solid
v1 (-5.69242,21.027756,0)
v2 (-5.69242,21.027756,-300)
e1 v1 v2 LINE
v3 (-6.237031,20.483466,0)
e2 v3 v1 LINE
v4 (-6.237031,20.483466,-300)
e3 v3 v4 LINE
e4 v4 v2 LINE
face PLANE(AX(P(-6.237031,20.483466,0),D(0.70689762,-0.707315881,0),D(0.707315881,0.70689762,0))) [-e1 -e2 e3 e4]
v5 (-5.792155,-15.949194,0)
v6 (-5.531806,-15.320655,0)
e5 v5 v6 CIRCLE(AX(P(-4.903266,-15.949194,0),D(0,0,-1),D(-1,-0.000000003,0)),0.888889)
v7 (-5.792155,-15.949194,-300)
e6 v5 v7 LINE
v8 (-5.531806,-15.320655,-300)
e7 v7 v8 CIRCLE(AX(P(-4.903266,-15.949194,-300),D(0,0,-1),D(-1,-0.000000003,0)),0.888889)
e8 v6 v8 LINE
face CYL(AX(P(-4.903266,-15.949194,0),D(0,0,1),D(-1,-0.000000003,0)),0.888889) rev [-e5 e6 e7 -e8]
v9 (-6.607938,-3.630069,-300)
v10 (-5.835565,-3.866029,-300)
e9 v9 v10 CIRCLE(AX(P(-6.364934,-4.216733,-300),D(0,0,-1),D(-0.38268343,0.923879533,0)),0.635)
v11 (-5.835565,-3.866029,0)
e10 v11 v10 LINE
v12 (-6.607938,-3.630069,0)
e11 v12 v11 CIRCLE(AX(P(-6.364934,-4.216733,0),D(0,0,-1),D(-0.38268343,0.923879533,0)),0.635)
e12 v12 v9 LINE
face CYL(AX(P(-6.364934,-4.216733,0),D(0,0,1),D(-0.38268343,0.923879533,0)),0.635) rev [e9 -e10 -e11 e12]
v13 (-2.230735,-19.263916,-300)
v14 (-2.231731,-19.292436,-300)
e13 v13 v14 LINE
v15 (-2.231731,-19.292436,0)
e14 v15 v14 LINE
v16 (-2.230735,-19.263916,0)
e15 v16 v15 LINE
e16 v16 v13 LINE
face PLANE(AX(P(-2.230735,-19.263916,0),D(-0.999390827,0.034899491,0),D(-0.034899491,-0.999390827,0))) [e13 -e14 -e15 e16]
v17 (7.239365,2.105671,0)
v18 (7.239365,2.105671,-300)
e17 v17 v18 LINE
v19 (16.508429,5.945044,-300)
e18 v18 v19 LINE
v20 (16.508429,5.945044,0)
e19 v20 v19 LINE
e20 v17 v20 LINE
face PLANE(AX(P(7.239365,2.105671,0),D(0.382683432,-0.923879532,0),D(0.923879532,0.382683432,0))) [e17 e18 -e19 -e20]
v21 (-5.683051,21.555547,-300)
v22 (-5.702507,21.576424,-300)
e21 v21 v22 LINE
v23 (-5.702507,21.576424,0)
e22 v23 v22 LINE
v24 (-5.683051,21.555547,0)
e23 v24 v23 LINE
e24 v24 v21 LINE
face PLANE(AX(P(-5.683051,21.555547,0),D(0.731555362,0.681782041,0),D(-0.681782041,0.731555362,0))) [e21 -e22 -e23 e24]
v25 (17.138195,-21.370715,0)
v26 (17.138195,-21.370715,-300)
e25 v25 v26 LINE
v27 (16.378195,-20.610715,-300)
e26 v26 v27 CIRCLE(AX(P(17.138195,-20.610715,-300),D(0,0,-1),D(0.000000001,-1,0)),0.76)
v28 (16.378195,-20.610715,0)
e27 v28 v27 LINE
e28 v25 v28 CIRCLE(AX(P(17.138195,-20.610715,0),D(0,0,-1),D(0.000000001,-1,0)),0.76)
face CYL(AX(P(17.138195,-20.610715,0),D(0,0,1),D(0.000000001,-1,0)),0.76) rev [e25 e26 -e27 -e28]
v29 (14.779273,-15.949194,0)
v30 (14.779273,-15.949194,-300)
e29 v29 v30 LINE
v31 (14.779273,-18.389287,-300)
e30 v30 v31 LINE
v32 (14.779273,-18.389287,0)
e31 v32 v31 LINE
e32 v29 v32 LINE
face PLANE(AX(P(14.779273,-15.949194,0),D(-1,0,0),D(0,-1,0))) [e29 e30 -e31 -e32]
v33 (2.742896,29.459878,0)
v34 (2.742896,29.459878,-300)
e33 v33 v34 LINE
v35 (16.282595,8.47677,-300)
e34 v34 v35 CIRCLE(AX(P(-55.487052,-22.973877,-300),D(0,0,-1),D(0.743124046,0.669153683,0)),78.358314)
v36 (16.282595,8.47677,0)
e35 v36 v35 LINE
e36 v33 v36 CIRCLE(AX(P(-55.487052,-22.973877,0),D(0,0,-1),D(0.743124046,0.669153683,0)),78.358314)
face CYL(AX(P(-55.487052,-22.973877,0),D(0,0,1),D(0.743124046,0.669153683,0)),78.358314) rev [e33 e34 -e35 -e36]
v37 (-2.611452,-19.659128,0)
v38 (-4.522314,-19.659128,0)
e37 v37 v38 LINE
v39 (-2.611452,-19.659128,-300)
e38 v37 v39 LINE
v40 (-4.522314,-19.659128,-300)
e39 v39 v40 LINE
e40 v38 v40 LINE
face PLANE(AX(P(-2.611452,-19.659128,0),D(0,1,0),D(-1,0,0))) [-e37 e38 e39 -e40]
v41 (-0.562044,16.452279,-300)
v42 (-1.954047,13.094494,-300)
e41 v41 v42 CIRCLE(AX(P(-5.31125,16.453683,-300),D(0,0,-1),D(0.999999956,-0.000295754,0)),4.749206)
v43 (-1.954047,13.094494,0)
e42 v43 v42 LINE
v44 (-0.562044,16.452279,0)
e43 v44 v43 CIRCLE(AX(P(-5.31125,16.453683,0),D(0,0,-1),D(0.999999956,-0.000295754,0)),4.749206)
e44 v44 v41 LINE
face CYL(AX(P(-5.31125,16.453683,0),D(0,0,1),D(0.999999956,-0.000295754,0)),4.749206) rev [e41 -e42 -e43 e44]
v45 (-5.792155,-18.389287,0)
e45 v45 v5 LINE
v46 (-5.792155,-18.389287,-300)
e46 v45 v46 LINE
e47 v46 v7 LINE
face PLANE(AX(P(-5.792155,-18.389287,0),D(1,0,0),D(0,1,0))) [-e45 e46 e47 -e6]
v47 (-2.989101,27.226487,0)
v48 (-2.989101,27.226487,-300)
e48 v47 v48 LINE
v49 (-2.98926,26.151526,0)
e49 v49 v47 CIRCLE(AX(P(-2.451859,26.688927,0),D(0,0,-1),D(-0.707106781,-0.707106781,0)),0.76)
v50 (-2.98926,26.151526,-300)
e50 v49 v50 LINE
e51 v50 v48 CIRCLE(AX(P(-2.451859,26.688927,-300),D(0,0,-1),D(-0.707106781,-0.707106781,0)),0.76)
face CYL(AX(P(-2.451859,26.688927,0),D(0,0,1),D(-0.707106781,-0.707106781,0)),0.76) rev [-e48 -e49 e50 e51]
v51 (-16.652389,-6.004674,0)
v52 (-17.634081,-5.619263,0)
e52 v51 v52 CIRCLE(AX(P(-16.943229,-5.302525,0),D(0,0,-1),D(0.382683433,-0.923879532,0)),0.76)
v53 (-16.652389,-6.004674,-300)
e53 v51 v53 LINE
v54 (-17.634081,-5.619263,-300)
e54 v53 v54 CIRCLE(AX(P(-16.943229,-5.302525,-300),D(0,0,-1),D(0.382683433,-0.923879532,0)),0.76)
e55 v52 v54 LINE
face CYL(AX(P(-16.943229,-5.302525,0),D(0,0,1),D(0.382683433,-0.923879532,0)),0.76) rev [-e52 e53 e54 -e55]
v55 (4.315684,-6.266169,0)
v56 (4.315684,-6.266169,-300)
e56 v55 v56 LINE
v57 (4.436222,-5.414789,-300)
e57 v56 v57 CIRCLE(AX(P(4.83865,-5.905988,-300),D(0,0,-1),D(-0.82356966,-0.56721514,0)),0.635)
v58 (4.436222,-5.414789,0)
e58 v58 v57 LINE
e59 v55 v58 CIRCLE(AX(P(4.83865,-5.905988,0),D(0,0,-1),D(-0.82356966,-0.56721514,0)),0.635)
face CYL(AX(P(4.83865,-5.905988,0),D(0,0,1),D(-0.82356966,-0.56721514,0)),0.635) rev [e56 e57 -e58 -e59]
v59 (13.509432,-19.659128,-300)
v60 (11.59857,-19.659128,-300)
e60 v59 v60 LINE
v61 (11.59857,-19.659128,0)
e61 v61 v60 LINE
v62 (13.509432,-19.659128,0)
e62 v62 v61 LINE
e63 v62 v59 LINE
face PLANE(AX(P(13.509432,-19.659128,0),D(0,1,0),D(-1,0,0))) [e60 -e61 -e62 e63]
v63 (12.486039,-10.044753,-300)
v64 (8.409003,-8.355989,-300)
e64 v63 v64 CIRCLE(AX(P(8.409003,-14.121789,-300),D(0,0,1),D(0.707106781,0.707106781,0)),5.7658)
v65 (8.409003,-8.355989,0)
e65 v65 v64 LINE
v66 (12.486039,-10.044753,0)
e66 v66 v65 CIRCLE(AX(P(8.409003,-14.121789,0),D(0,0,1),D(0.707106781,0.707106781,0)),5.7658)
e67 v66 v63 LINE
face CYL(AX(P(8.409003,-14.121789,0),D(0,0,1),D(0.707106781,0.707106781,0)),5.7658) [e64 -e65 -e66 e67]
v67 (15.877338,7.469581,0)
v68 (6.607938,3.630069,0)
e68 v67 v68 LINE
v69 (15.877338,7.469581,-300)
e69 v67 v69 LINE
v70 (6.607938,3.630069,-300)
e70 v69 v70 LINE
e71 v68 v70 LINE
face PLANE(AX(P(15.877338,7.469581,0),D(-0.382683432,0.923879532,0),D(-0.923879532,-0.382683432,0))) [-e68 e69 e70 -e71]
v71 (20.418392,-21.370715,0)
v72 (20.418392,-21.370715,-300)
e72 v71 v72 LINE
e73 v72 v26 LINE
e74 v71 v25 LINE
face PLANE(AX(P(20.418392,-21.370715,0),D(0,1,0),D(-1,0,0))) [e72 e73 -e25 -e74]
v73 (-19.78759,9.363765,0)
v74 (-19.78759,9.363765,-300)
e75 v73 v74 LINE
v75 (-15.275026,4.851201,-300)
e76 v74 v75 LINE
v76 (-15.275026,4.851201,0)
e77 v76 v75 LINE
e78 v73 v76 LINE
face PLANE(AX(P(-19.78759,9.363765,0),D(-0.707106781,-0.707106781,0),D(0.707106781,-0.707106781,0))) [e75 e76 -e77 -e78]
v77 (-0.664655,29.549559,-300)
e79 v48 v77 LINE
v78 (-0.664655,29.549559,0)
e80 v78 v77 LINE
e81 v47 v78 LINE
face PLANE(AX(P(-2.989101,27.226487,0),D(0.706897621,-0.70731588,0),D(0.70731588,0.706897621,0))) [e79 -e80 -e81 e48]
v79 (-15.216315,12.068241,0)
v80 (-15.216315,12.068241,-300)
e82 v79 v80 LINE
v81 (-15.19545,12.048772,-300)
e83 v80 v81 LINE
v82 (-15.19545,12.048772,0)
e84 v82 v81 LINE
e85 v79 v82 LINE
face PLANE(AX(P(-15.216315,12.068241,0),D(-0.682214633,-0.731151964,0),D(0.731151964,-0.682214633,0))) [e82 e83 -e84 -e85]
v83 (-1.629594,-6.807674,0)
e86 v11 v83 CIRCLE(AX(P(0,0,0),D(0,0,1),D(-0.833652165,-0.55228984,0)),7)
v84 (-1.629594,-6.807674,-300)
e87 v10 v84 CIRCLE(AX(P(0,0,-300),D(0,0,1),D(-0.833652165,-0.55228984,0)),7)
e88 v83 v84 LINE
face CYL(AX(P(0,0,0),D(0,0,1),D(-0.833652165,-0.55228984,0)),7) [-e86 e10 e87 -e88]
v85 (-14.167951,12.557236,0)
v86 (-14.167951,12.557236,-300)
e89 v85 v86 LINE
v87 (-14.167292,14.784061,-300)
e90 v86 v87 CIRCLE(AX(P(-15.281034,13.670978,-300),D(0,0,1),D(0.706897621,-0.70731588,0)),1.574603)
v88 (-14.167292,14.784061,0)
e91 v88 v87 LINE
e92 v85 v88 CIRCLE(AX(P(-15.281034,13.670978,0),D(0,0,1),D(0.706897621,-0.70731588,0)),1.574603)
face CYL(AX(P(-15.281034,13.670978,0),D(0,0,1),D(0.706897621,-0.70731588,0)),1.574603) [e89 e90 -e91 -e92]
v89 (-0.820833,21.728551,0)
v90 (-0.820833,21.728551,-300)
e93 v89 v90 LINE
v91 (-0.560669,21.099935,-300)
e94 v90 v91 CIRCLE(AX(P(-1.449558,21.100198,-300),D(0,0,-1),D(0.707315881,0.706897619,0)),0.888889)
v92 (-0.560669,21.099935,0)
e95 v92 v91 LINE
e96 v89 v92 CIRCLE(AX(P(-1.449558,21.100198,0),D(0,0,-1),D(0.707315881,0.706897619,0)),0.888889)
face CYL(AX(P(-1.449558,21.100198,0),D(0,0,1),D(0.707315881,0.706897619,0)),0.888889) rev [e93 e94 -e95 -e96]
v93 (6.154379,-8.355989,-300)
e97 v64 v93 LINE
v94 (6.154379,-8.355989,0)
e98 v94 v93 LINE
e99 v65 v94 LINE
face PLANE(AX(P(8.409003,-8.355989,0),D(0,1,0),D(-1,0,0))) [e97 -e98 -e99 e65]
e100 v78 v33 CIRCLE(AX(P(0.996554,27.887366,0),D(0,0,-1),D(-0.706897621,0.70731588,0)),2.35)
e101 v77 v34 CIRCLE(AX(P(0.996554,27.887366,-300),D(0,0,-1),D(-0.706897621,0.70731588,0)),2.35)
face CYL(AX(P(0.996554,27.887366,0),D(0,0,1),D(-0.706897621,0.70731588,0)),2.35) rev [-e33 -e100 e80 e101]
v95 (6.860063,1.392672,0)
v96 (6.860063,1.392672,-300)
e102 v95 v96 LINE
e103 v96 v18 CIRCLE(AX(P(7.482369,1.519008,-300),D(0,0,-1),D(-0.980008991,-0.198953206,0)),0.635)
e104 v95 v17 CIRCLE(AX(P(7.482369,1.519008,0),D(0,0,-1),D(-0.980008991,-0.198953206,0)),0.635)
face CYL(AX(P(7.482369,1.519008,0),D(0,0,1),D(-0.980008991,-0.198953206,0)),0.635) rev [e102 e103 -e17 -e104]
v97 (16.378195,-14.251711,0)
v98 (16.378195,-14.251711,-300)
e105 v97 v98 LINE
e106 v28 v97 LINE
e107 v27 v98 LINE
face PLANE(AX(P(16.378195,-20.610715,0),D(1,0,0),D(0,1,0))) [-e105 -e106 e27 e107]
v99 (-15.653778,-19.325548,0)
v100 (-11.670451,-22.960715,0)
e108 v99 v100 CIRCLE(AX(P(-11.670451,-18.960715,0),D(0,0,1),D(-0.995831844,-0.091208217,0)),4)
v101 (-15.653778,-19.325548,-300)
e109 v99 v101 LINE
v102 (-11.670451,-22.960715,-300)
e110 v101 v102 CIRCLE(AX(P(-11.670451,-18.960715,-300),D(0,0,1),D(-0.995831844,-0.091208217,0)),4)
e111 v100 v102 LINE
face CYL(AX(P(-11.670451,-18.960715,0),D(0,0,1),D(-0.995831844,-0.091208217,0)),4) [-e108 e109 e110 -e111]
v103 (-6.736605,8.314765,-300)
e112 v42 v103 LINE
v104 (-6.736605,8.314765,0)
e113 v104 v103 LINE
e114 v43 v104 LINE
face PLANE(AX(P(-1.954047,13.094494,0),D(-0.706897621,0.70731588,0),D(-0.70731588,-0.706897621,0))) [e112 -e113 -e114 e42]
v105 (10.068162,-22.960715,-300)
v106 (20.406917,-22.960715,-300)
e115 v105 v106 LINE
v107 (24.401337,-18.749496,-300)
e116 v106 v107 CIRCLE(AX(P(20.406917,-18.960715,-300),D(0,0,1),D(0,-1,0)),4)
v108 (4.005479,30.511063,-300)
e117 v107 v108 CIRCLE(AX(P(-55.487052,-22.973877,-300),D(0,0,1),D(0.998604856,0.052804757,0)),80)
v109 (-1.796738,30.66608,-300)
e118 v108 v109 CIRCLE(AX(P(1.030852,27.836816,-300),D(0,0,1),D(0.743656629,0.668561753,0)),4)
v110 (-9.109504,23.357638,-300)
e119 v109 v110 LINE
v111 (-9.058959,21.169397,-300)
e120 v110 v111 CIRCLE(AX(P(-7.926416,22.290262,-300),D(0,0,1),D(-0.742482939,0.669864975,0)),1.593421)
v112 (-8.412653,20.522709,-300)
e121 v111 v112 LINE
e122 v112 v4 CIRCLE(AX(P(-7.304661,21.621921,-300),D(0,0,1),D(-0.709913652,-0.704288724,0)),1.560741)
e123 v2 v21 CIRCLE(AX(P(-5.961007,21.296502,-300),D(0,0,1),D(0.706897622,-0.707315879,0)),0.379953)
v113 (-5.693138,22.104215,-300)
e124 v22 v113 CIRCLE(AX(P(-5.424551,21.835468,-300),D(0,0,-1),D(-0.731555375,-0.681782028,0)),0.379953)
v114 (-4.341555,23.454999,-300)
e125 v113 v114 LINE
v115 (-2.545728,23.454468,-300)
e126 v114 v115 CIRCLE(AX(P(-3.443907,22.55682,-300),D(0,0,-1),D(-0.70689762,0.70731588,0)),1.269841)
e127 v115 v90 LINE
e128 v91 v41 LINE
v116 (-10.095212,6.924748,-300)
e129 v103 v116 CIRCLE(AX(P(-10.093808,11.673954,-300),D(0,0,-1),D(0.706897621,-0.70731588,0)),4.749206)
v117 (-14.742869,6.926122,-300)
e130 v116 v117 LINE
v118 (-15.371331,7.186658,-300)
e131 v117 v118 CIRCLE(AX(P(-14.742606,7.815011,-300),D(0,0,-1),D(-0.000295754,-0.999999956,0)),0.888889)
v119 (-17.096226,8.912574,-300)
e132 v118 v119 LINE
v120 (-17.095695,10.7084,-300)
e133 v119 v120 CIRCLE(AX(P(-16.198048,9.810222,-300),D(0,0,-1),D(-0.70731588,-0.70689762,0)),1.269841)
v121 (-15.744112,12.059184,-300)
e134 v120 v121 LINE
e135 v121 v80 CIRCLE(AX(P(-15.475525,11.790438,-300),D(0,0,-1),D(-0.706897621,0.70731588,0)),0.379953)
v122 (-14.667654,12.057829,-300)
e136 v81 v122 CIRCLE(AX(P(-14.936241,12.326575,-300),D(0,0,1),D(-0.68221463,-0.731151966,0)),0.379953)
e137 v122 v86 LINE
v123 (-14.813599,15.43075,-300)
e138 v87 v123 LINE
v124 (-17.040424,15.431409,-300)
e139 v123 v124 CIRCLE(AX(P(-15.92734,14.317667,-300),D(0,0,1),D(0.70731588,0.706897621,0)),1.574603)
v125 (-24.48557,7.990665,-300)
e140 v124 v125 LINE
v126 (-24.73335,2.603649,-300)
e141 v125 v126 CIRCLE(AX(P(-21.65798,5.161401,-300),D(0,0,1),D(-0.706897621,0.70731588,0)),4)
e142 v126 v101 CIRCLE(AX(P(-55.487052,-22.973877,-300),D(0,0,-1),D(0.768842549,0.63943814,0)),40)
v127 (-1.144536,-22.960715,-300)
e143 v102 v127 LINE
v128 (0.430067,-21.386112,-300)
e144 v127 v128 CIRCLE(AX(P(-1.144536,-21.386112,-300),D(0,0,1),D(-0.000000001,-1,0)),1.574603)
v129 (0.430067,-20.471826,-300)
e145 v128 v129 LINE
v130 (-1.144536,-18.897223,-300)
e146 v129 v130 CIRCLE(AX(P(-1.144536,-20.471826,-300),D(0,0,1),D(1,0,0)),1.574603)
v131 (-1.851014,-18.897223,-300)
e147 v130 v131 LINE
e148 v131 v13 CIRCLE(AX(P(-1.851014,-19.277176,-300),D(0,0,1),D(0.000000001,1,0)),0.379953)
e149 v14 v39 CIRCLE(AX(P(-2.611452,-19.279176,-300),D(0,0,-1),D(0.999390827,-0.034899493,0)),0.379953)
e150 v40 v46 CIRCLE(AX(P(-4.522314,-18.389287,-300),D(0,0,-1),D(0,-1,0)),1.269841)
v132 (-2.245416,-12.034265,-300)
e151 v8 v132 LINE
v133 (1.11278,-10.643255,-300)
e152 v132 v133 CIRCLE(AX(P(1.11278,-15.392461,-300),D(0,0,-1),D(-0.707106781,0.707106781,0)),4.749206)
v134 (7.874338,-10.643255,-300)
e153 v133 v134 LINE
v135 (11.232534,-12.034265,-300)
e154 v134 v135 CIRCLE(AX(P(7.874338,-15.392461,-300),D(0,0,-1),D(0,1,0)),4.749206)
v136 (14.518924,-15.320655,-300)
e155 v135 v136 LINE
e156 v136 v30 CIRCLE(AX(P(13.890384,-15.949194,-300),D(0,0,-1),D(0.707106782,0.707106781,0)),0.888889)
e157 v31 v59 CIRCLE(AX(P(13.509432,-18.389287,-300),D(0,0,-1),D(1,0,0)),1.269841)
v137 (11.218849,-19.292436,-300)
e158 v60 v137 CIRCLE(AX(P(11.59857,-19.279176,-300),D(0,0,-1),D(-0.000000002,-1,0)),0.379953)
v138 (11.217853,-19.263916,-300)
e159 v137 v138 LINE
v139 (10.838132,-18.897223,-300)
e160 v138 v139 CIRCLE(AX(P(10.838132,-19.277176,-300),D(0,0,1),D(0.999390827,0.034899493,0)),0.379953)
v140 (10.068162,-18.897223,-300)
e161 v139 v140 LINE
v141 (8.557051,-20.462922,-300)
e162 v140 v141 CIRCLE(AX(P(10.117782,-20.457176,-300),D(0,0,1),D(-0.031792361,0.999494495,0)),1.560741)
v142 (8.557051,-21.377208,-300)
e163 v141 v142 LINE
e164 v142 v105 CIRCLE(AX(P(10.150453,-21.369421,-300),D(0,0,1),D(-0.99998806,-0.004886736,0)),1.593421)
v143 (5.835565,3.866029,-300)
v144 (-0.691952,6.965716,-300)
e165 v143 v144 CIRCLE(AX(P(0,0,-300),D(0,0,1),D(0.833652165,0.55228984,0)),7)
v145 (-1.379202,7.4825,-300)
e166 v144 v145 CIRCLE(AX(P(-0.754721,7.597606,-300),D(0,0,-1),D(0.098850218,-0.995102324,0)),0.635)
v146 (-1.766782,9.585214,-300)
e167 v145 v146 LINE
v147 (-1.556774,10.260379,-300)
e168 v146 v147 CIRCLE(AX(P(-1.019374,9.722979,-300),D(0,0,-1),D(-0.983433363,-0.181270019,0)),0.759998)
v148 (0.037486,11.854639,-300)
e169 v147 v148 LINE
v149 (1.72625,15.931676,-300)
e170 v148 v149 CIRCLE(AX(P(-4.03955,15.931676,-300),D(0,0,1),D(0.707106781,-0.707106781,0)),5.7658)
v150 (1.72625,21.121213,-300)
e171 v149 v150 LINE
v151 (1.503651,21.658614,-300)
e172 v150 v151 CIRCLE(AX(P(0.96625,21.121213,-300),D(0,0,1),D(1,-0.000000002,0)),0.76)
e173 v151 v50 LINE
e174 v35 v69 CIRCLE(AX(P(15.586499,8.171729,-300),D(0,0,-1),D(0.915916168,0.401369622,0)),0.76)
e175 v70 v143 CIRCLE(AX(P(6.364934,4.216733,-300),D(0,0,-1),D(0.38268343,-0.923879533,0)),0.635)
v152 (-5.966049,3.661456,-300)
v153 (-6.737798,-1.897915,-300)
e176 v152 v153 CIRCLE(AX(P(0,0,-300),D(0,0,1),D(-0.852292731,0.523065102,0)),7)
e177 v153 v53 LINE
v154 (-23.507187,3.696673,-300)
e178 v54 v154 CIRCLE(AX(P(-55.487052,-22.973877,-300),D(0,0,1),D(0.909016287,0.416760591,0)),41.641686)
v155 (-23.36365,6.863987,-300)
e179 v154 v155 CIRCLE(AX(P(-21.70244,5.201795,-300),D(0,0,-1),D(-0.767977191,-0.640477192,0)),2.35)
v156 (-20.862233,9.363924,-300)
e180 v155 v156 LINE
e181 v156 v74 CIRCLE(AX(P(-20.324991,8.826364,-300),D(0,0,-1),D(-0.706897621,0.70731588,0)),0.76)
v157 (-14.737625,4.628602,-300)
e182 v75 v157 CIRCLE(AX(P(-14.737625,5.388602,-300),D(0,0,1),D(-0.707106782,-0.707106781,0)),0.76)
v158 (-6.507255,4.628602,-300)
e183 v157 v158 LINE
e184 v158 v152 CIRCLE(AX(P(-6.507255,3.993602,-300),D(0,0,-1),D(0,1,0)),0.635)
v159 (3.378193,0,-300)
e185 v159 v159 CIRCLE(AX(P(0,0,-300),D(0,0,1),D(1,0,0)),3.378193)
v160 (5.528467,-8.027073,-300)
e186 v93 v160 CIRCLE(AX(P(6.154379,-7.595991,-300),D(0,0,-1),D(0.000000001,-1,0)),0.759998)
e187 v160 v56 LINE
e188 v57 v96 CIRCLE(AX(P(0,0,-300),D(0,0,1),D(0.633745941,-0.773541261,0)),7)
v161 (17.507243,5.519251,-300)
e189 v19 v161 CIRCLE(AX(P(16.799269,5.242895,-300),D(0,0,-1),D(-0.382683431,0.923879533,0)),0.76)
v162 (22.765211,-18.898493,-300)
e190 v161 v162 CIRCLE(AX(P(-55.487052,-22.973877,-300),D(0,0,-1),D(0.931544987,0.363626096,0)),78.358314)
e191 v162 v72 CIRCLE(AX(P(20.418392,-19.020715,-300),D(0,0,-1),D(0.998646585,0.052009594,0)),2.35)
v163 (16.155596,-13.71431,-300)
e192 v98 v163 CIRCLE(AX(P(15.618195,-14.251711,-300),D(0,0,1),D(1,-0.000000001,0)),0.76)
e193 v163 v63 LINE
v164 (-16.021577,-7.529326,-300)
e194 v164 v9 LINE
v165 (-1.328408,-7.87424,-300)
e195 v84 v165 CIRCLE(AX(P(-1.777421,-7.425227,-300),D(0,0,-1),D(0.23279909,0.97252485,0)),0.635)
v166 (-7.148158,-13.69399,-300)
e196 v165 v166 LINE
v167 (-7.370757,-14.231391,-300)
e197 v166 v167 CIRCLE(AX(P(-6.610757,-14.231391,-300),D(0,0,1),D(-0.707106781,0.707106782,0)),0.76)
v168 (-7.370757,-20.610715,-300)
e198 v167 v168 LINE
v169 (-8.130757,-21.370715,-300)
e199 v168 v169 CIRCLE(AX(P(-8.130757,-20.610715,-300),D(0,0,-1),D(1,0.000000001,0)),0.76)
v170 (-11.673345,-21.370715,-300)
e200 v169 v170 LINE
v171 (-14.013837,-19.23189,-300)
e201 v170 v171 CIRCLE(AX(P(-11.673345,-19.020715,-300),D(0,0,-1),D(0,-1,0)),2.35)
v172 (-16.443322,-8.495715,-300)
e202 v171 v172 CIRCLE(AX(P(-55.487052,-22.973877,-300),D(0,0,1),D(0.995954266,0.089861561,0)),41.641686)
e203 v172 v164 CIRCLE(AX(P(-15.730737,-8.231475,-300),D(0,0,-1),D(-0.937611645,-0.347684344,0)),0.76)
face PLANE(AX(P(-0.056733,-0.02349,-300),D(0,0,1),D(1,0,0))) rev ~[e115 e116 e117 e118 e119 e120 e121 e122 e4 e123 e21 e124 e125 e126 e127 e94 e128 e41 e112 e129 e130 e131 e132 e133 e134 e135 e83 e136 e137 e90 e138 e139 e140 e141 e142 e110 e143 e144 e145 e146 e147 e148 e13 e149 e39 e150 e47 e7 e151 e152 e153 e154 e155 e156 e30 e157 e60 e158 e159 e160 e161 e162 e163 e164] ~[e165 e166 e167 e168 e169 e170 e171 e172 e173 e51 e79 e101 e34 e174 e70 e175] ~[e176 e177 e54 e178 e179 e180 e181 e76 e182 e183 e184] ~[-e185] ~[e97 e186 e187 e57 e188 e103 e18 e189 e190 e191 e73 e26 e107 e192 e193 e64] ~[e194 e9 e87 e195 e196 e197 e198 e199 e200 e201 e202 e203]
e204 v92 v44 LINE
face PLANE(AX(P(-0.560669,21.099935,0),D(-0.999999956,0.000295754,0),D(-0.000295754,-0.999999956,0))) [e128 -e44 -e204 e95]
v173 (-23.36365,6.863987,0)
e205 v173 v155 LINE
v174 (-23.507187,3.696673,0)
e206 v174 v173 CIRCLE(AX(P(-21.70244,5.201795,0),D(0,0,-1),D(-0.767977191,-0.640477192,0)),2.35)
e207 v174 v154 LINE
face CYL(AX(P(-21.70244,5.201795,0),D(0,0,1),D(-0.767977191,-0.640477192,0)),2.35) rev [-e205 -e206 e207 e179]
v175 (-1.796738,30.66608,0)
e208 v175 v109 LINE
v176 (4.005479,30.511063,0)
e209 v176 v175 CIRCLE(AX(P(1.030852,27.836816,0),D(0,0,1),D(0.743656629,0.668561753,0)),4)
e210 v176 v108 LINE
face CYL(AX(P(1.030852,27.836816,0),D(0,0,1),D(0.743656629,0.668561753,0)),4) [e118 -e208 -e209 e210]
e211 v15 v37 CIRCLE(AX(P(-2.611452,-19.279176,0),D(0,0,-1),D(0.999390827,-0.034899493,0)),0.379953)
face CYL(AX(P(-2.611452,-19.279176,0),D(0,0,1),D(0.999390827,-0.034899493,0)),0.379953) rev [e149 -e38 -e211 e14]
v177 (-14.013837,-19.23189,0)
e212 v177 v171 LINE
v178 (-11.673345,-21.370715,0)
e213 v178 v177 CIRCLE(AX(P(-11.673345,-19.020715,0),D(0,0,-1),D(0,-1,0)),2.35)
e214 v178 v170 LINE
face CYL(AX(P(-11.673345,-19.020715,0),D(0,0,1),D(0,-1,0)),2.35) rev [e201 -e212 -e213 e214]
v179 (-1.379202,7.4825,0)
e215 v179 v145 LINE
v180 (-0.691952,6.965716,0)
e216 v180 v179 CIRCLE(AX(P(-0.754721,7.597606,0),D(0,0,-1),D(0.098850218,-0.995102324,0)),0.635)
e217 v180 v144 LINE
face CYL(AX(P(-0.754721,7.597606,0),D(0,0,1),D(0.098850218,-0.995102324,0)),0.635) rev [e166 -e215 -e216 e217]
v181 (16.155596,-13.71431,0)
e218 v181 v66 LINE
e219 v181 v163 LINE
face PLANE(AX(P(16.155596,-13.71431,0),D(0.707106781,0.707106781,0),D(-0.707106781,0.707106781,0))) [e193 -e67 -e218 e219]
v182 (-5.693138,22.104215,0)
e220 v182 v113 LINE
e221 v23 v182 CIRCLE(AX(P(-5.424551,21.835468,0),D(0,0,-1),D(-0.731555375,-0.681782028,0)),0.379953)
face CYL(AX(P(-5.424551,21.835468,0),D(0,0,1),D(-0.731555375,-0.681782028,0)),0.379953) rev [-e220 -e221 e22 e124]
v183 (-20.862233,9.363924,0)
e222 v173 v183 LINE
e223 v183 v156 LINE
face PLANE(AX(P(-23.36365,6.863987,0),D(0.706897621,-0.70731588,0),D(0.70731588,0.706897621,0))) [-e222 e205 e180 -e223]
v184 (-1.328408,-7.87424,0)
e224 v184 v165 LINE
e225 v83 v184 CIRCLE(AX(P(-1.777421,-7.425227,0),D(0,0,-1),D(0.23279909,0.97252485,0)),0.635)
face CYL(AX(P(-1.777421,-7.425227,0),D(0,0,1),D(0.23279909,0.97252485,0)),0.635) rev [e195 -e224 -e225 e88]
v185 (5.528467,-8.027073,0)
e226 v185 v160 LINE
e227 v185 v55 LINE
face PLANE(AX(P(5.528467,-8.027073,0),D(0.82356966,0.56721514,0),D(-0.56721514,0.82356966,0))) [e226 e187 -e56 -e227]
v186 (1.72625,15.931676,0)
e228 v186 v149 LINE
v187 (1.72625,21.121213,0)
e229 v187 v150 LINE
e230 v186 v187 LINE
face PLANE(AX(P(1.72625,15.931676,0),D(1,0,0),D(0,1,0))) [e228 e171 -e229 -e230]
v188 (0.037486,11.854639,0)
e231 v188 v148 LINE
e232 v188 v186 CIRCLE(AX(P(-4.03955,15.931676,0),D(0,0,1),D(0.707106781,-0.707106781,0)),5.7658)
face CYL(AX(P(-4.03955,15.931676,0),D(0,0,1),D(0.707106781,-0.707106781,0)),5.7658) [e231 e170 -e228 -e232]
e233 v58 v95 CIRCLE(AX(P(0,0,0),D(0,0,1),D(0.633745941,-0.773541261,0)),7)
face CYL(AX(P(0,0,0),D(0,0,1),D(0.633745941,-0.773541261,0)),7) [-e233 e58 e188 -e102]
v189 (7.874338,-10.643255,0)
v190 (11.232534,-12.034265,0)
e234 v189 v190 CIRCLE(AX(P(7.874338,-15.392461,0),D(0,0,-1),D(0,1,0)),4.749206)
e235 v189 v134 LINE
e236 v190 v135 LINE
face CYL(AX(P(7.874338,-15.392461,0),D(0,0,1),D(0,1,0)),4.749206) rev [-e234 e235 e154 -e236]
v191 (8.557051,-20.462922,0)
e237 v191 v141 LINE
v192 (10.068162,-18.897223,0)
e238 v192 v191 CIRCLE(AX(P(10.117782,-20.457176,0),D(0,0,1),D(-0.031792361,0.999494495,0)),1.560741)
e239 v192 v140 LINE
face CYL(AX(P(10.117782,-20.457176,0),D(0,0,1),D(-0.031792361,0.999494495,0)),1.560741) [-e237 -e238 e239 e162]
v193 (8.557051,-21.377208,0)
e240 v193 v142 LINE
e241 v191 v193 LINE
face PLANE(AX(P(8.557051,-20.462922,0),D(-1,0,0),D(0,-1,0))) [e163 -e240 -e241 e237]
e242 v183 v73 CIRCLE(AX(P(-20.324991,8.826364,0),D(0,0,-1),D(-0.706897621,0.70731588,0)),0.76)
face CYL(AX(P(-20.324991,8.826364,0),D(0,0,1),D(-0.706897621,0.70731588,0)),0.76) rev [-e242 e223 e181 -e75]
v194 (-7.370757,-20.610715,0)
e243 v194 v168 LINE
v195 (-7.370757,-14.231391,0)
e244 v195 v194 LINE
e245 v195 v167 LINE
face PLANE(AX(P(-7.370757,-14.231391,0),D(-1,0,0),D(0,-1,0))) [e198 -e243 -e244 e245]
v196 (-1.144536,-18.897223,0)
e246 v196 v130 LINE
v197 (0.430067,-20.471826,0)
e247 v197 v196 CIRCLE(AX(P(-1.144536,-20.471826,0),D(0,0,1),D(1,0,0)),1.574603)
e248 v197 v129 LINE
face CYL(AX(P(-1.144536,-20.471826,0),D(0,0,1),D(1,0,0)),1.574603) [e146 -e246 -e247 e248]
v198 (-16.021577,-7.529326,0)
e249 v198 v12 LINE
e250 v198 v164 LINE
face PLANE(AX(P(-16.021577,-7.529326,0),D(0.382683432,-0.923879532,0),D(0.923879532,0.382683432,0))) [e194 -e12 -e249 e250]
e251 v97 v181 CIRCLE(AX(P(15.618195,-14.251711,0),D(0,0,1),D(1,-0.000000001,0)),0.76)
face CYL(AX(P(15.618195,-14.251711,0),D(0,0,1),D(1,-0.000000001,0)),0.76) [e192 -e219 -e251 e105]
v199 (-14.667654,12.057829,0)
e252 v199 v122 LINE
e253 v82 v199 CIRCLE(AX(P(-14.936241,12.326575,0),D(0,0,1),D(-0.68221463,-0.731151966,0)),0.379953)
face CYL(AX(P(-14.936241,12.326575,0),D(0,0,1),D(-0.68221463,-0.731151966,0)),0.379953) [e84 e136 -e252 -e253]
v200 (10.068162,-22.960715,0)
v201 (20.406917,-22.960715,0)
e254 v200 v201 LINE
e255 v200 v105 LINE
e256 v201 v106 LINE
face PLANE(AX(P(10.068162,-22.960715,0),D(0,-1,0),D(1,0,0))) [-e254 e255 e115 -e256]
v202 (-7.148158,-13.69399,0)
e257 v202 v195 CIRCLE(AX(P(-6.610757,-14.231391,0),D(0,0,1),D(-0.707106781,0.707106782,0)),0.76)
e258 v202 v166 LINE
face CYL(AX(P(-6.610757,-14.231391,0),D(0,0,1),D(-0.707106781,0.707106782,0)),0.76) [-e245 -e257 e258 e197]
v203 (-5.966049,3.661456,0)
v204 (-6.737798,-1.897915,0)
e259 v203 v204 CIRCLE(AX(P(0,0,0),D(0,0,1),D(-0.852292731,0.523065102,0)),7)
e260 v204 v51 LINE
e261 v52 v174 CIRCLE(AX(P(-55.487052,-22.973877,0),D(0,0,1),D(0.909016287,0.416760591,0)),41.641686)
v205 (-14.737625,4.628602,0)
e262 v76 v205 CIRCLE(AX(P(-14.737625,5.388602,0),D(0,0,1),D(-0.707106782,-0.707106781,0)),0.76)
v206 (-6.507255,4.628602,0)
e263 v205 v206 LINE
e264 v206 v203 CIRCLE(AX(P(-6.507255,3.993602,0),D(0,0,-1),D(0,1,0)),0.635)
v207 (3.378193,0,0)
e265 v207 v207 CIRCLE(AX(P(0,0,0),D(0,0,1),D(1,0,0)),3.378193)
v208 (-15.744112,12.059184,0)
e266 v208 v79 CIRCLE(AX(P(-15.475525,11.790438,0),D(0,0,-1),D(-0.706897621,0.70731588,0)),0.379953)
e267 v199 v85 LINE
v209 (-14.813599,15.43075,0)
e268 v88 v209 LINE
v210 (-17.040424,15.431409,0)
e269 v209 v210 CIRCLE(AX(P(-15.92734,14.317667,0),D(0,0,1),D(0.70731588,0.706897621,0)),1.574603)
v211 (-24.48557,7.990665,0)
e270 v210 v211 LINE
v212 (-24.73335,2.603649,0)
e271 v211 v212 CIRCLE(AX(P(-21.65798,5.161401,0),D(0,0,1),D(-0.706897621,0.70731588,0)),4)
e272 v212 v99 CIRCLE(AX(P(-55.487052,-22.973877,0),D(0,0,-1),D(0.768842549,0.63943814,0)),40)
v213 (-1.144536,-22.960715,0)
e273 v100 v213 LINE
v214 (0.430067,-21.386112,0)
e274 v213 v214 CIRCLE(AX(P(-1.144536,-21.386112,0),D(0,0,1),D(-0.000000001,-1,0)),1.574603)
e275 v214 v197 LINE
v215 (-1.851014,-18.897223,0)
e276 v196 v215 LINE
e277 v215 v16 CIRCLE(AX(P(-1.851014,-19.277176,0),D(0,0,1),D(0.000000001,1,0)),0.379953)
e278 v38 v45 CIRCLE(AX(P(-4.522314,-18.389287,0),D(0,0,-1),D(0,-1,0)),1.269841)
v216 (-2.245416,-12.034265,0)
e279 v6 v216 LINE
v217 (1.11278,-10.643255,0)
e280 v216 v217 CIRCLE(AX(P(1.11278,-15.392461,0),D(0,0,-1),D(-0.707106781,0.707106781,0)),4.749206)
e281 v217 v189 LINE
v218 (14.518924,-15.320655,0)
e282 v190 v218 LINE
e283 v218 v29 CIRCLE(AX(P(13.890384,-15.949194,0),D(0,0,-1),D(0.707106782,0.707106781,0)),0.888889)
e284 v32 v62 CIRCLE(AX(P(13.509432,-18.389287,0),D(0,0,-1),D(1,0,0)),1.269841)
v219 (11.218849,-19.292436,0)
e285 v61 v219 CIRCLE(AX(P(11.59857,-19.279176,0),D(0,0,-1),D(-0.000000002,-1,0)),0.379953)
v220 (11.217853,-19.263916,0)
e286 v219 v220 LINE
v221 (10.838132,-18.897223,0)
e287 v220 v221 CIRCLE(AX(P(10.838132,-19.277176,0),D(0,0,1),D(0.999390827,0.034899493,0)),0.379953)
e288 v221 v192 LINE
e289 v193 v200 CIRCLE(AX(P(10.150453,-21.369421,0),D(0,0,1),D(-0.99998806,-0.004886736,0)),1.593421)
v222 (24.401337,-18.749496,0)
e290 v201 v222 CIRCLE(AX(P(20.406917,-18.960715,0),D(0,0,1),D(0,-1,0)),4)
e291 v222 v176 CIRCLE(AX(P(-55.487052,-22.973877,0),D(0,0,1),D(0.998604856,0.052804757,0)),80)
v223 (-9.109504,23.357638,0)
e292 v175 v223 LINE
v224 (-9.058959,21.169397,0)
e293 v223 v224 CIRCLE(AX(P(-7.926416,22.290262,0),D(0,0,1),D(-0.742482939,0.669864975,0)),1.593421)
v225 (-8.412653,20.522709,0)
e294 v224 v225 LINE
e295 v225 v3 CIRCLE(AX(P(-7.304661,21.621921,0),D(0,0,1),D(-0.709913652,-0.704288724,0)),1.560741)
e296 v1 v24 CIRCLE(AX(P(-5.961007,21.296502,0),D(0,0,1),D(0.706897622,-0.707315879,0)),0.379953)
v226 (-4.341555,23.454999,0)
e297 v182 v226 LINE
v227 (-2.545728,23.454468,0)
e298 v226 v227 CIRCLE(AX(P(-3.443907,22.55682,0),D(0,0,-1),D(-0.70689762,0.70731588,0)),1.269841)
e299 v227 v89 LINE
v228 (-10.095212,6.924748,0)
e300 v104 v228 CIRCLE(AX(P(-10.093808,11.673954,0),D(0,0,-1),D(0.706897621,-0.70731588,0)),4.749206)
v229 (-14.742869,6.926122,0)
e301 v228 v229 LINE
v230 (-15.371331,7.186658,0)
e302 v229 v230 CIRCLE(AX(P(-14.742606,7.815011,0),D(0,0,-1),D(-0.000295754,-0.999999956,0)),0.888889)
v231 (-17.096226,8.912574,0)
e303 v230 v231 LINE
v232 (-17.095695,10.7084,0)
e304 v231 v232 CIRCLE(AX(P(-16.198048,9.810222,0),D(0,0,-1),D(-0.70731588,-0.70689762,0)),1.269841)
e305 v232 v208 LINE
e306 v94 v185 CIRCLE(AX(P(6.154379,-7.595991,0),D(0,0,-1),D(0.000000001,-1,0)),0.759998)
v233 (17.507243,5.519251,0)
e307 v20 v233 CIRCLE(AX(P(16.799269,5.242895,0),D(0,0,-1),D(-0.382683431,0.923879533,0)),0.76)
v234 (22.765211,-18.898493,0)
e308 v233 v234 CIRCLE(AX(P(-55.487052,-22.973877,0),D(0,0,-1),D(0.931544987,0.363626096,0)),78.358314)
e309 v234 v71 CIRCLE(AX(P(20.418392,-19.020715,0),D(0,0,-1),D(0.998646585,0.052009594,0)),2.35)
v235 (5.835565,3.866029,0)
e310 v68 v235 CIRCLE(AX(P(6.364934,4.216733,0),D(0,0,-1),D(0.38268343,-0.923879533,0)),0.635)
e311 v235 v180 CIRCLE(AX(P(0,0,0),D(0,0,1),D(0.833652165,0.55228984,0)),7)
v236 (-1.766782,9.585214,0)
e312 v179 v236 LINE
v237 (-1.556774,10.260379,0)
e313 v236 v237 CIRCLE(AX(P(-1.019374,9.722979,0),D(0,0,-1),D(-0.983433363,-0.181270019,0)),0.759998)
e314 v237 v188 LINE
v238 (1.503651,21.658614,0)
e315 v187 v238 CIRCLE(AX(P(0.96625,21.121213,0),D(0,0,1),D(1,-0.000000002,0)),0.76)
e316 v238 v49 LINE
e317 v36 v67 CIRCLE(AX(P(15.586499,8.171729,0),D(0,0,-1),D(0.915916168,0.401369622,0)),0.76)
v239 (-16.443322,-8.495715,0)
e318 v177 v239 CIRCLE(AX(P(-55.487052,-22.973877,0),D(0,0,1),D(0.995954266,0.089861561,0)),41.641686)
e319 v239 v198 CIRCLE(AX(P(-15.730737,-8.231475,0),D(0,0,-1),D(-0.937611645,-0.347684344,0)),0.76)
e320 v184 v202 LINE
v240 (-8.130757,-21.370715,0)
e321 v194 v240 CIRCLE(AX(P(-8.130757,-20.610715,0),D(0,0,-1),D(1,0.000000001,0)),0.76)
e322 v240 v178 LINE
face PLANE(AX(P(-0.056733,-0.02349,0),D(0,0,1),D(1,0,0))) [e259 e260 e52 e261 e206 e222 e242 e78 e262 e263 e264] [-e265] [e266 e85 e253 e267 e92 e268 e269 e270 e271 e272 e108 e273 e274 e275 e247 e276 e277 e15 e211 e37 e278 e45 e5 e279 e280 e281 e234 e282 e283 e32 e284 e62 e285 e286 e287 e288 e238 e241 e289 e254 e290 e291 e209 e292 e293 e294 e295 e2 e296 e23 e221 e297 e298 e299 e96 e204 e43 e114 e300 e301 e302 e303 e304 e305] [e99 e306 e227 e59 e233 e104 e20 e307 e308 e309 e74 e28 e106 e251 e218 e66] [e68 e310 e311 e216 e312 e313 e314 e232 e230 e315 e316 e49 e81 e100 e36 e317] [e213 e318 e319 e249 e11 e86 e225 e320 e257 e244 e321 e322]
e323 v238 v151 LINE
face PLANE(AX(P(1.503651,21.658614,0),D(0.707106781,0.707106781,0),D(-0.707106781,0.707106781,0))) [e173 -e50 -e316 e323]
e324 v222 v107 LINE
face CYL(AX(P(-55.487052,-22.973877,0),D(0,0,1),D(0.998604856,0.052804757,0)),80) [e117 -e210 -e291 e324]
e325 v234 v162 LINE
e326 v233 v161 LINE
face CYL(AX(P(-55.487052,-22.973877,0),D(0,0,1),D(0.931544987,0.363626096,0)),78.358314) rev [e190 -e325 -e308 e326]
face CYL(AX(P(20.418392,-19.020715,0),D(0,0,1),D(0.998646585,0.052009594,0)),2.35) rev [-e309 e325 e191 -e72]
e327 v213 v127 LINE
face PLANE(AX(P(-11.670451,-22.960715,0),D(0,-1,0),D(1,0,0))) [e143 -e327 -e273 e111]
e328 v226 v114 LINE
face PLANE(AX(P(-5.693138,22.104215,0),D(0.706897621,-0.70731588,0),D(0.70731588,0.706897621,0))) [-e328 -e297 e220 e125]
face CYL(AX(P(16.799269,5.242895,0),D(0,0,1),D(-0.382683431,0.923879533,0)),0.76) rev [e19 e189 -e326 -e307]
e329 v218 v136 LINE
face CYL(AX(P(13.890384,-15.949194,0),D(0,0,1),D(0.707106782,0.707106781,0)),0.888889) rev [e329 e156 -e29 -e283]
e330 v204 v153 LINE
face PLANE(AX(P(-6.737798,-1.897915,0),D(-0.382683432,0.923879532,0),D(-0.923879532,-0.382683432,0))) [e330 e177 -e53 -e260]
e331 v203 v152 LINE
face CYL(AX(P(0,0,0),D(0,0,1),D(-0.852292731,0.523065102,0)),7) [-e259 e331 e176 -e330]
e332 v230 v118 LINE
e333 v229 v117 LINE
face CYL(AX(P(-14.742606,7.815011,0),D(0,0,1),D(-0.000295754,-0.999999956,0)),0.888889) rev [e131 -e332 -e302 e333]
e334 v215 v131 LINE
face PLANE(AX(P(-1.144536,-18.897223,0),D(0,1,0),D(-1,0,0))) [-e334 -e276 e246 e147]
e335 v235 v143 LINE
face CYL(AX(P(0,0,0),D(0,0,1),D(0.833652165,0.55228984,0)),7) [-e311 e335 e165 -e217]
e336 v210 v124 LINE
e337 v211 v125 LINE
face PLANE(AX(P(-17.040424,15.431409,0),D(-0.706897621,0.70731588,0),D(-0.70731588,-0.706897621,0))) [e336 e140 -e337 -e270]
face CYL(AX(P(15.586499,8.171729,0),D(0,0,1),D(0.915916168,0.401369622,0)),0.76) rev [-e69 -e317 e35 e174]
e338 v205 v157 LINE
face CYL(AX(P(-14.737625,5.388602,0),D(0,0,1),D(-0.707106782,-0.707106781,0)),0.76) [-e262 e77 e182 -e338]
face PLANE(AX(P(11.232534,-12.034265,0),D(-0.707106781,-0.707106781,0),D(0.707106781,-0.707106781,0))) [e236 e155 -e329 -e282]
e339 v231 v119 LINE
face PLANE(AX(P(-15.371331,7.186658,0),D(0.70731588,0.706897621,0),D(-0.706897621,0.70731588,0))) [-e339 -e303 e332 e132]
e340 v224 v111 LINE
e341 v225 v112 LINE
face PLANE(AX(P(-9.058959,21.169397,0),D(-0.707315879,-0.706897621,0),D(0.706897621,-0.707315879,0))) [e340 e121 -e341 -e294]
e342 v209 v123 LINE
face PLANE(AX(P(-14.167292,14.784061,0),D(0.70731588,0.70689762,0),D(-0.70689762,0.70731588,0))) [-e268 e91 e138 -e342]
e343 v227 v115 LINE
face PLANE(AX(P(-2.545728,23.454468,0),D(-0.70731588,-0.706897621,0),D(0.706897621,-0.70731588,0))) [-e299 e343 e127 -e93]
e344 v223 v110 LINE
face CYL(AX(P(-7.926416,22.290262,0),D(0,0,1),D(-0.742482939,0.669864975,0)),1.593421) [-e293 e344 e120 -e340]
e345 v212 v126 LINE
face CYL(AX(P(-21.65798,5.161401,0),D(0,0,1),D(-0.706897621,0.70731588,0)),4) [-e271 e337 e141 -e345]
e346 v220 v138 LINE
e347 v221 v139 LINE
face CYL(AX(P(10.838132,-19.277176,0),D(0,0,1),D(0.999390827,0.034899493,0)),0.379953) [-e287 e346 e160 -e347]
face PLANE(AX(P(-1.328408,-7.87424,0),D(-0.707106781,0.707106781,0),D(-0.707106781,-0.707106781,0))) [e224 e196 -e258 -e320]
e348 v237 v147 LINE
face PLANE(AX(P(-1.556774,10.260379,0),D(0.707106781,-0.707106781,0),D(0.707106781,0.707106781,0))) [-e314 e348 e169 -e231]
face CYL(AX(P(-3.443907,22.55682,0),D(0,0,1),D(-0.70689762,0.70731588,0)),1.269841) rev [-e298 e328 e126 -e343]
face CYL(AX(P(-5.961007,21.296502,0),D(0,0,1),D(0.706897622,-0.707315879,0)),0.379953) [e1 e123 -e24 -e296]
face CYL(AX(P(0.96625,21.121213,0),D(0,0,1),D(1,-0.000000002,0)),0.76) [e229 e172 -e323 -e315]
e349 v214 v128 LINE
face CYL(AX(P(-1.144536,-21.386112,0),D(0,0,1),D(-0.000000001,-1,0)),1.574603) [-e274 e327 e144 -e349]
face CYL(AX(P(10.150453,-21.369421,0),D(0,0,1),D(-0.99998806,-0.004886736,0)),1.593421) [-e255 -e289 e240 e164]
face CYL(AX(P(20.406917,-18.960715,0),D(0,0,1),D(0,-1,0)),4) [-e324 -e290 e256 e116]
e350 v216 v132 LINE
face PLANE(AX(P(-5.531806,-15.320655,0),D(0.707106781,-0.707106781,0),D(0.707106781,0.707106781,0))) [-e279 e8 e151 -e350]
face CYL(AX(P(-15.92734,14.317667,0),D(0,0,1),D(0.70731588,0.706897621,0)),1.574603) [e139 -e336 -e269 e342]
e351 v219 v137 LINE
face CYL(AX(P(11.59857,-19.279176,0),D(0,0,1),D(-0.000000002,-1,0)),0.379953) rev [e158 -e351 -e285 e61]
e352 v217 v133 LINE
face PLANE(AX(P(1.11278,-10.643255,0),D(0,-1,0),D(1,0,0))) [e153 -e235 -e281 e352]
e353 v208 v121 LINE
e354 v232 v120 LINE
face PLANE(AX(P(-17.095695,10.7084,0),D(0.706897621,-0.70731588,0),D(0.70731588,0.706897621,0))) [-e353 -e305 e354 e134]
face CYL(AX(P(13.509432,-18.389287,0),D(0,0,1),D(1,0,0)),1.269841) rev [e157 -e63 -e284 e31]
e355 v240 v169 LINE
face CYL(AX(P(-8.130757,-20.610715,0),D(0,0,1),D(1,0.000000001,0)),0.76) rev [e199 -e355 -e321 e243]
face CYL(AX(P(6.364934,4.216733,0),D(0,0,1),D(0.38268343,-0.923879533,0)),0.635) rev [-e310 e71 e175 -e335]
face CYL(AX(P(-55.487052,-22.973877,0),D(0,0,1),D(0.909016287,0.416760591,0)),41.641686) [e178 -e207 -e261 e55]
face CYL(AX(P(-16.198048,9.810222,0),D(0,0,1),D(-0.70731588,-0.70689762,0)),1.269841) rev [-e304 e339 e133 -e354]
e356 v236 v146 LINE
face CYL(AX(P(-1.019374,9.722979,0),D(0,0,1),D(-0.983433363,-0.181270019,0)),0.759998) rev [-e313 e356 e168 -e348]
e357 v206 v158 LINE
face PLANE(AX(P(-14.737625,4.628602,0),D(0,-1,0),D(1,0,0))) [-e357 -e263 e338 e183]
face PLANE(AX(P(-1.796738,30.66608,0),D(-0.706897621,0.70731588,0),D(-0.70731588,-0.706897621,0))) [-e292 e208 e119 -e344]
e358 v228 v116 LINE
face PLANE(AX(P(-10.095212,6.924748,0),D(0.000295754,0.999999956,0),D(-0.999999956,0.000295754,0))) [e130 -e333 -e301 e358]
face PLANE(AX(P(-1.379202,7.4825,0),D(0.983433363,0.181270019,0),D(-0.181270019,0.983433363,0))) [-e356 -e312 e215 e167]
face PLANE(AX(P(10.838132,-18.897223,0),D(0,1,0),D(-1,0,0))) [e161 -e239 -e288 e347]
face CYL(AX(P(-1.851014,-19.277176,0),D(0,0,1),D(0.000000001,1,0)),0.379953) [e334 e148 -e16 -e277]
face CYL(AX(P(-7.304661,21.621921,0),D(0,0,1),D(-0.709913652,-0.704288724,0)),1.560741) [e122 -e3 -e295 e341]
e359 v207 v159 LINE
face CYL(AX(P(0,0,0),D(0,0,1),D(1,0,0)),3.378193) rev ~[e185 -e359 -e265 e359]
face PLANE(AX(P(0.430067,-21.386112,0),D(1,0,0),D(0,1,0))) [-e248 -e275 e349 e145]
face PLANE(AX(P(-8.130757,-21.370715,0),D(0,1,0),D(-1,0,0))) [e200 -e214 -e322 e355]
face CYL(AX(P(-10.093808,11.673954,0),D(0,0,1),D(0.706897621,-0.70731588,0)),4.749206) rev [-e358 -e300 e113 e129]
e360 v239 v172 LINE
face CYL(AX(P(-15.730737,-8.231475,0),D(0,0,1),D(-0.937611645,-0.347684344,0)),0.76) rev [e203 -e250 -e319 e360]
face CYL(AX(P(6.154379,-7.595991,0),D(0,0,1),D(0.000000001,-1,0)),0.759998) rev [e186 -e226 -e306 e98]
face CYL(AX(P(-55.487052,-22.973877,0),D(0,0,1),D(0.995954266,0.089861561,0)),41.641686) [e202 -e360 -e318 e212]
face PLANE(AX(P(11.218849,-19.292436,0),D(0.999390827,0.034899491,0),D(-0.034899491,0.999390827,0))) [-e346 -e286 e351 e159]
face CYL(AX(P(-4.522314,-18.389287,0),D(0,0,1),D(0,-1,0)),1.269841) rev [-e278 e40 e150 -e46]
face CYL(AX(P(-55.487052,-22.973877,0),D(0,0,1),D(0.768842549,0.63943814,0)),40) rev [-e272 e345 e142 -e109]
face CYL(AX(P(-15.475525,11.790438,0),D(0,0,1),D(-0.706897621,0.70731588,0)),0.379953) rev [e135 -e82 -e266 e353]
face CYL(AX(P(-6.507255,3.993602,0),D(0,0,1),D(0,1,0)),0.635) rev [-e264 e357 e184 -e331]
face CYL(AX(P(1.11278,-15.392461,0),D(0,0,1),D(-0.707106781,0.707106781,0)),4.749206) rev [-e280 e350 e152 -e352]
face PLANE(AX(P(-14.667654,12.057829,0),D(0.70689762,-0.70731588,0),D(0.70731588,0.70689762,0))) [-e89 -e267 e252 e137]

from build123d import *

# Parameters (mm, degrees)
SKETCH1_R      = 3.378193244
EXTRUDE1_DEPTH = 300


with BuildPart() as part:
    # Sketch1 → Extrude1 (new body)
    with BuildSketch(Plane.XY):
        with BuildLine():
            Line((-17.04042372, 15.431408639), (-24.485570149, 7.990664768))
            ThreePointArc((-24.485570149, 7.990664768), (-25.653755155, 5.34518984), (-24.733349861, 2.603648687))
            ThreePointArc((-24.733349861, 2.603648687), (-18.529607307, -7.672004621), (-15.653778055, -19.325548231))
            ThreePointArc((-15.653778055, -19.325548231), (-14.366806417, -21.915316136), (-11.67045068, -22.960715361))
            Line((-11.67045068, -22.960715361), (-1.144536244, -22.960715361))
            ThreePointArc((-1.144536244, -22.960715361), (-0.031123661, -22.499524769), (0.430066931, -21.386112187))
            Line((0.430066931, -21.386112187), (0.430066931, -20.471826472))
            ThreePointArc((0.430066931, -20.471826472), (-0.031123661, -19.35841389), (-1.144536244, -18.897223298))
            Line((-1.144536244, -18.897223298), (-1.851013704, -18.897223298))
            ThreePointArc((-1.851013704, -18.897223298), (-2.114950893, -19.003860844), (-2.230734754, -19.263915653))
            Line((-2.230734754, -19.263915653), (-2.231730696, -19.292435705))
            ThreePointArc((-2.231730696, -19.292435705), (-2.347514556, -19.552490514), (-2.611451745, -19.65912806))
            Line((-2.611451745, -19.65912806), (-4.522314022, -19.65912806))
            ThreePointArc((-4.522314022, -19.65912806), (-5.420227395, -19.287200163), (-5.792155291, -18.38928679))
            Line((-5.792155291, -18.38928679), (-5.792155291, -15.94919425))
            ThreePointArc((-5.792155291, -15.94919425), (-5.724492654, -15.609031199), (-5.531805764, -15.320654889))
            Line((-5.531805764, -15.320654889), (-2.245416253, -12.034265378))
            ThreePointArc((-2.245416253, -12.034265378), (-0.704662825, -11.004766851), (1.112779762, -10.643255044))
            Line((1.112779762, -10.643255044), (7.874338227, -10.643255044))
            ThreePointArc((7.874338227, -10.643255044), (9.691780814, -11.004766851), (11.232534242, -12.034265378))
            Line((11.232534242, -12.034265378), (14.518923752, -15.320654889))
            ThreePointArc((14.518923752, -15.320654889), (14.711610642, -15.609031199), (14.77927328, -15.94919425))
            Line((14.77927328, -15.94919425), (14.77927328, -18.38928679))
            ThreePointArc((14.77927328, -18.38928679), (14.407345383, -19.287200163), (13.50943201, -19.65912806))
            Line((13.50943201, -19.65912806), (11.598569733, -19.65912806))
            ThreePointArc((11.598569733, -19.65912806), (11.334632545, -19.552490514), (11.218848684, -19.292435705))
            Line((11.218848684, -19.292435705), (11.217852742, -19.263915653))
            ThreePointArc((11.217852742, -19.263915653), (11.102068882, -19.003860844), (10.838131693, -18.897223298))
            Line((10.838131693, -18.897223298), (10.068162169, -18.897223298))
            ThreePointArc((10.068162169, -18.897223298), (8.994767984, -19.373315236), (8.557051058, -20.462921818))
            Line((8.557051058, -20.462921818), (8.557051058, -21.377207532))
            ThreePointArc((8.557051058, -21.377207532), (8.99769069, -22.469479665), (10.068162169, -22.960715361))
            Line((10.068162169, -22.960715361), (20.406917219, -22.960715361))
            ThreePointArc((20.406917219, -22.960715361), (23.309060919, -21.713452534), (24.401336641, -18.749496331))
            ThreePointArc((24.401336641, -18.749496331), (18.427837191, 7.629867689), (4.005478547, 30.511063307))
            ThreePointArc((4.005478547, 30.511063307), (1.137680997, 31.835389487), (-1.796738453, 30.666079815))
            Line((-1.796738453, 30.666079815), (-9.109504077, 23.357638469))
            ThreePointArc((-9.109504077, 23.357638469), (-9.519412208, 22.253465918), (-9.058959046, 21.169397386))
            Line((-9.058959046, 21.169397386), (-8.412652649, 20.522708582))
            ThreePointArc((-8.412652649, 20.522708582), (-7.332808217, 20.061433598), (-6.237031206, 20.483466005))
            Line((-6.237031206, 20.483466005), (-5.692419534, 21.027755629))
            ThreePointArc((-5.692419534, 21.027755629), (-5.581114397, 21.28975863), (-5.683050759, 21.555546861))
            Line((-5.683050759, 21.555546861), (-5.702507071, 21.576423576))
            ThreePointArc((-5.702507071, 21.576423576), (-5.804443433, 21.842211807), (-5.693138296, 22.104214808))
            Line((-5.693138296, 22.104214808), (-4.341555064, 23.454998805))
            ThreePointArc((-4.341555064, 23.454998805), (-3.443531731, 23.826661124), (-2.545728396, 23.454467682))
            Line((-2.545728396, 23.454467682), (-0.820832785, 21.728551481))
            ThreePointArc((-0.820832785, 21.728551481), (-0.628231192, 21.440118195), (-0.560669162, 21.099935148))
            Line((-0.560669162, 21.099935148), (-0.562043724, 16.452278734))
            ThreePointArc((-0.562043724, 16.452278734), (-0.924093031, 14.634943145), (-1.954047197, 13.094494262))
            Line((-1.954047197, 13.094494262), (-6.736604871, 8.314764671))
            ThreePointArc((-6.736604871, 8.314764671), (-8.27766271, 7.285721873), (-10.095212136, 6.924747597))
            Line((-10.095212136, 6.924747597), (-14.74286855, 6.926122159))
            ThreePointArc((-14.74286855, 6.926122159), (-15.083011574, 6.993885398), (-15.371330884, 7.186657568))
            Line((-15.371330884, 7.186657568), (-17.096226495, 8.91257377))
            ThreePointArc((-17.096226495, 8.91257377), (-17.467888814, 9.810597103), (-17.095695372, 10.708400437))
            Line((-17.095695372, 10.708400437), (-15.74411214, 12.059184434))
            ThreePointArc((-15.74411214, 12.059184434), (-15.482043347, 12.170334575), (-15.216315459, 12.068241015))
            Line((-15.216315459, 12.068241015), (-15.195450256, 12.048772358))
            ThreePointArc((-15.195450256, 12.048772358), (-14.929722367, 11.946678798), (-14.667653575, 12.057828939))
            Line((-14.667653575, 12.057828939), (-14.167950848, 12.557236175))
            ThreePointArc((-14.167950848, 12.557236175), (-13.70643098, 13.67051231), (-14.167292256, 14.784061242))
            Line((-14.167292256, 14.784061242), (-14.813598652, 15.430750047))
            ThreePointArc((-14.813598652, 15.430750047), (-15.926874787, 15.892269915), (-17.04042372, 15.431408639))
        make_face()
        Circle(SKETCH1_R, mode=Mode.SUBTRACT)
        with BuildLine():
            Line((-8.130757209, -21.370715361), (-11.673344577, -21.370715361))
            ThreePointArc((-11.673344577, -21.370715361), (-13.258626812, -20.755471896), (-14.013837102, -19.23189003))
            ThreePointArc((-14.013837102, -19.23189003), (-14.872264525, -13.783171952), (-16.443322189, -8.495714704))
            ThreePointArc((-16.443322189, -8.495714704), (-16.427294419, -7.927487377), (-16.021576747, -7.529326159))
            Line((-16.021576747, -7.529326159), (-6.607938261, -3.630069426))
            ThreePointArc((-6.607938261, -3.630069426), (-6.179406749, -3.609440138), (-5.835565156, -3.866028881))
            ThreePointArc((-5.835565156, -3.866028881), (-4.011915729, -5.736247221), (-1.629593619, -6.807673952))
            ThreePointArc((-1.629593619, -6.807673952), (-1.166319275, -7.252659472), (-1.328408234, -7.874240038))
            Line((-1.328408234, -7.874240038), (-7.148158363, -13.693990167))
            ThreePointArc((-7.148158363, -13.693990167), (-7.312905654, -13.940551912), (-7.370757209, -14.23139132))
            Line((-7.370757209, -14.23139132), (-7.370757209, -20.610715361))
            ThreePointArc((-7.370757209, -20.610715361), (-7.593356055, -21.148116515), (-8.130757209, -21.370715361))
        make_face(mode=Mode.SUBTRACT)
        with BuildLine():
            Line((20.418391526, -21.370715361), (17.138195039, -21.370715361))
            ThreePointArc((17.138195039, -21.370715361), (16.600793885, -21.148116515), (16.378195039, -20.610715361))
            Line((16.378195039, -20.610715361), (16.378195039, -14.25171132))
            ThreePointArc((16.378195039, -14.25171132), (16.320343484, -13.960871912), (16.155596193, -13.714310167))
            Line((16.155596193, -13.714310167), (12.486038977, -10.044752951))
            ThreePointArc((12.486038977, -10.044752951), (10.615478832, -8.794884621), (8.409002698, -8.35598923))
            Line((8.409002698, -8.35598923), (6.154378538, -8.35598923))
            ThreePointArc((6.154378538, -8.35598923), (5.800842447, -8.268753652), (5.528466848, -8.027073394))
            Line((5.528466848, -8.027073394), (4.315683522, -6.266169144))
            ThreePointArc((4.315683522, -6.266169144), (4.209920366, -5.81697222), (4.436221584, -5.414788829))
            ThreePointArc((4.436221584, -5.414788829), (6.594459284, -2.348000586), (6.860062932, 1.392672456))
            ThreePointArc((6.860062932, 1.392672456), (6.921760014, 1.817240818), (7.239364661, 2.105671246))
            Line((7.239364661, 2.105671246), (16.508429277, 5.945043521))
            ThreePointArc((16.508429277, 5.945043521), (17.097304243, 5.94201939), (17.507242876, 5.519250909))
            ThreePointArc((17.507242876, 5.519250909), (21.115407947, -6.478770082), (22.765211001, -18.898492815))
            ThreePointArc((22.765211001, -18.898492815), (22.122756948, -20.638627135), (20.418391526, -21.370715361))
        make_face(mode=Mode.SUBTRACT)
        with BuildLine():
            Line((-19.787590021, 9.363765211), (-15.275025713, 4.851200903))
            ThreePointArc((-15.275025713, 4.851200903), (-15.028463968, 4.686453612), (-14.73762456, 4.628602057))
            Line((-14.73762456, 4.628602057), (-6.507254998, 4.628602057))
            ThreePointArc((-6.507254998, 4.628602057), (-5.953116962, 4.303692426), (-5.966049114, 3.661455717))
            ThreePointArc((-5.966049114, 3.661455717), (-6.933511551, 0.962505882), (-6.737797651, -1.897915388))
            Line((-6.737797651, -1.897915388), (-16.652389322, -6.004673724))
            ThreePointArc((-16.652389322, -6.004673724), (-17.220965814, -6.009958748), (-17.634081109, -5.619263328))
            ThreePointArc((-17.634081109, -5.619263328), (-20.26130976, -0.76628586), (-23.507186823, 3.696673112))
            ThreePointArc((-23.507186823, 3.696673112), (-24.050030989, 5.308183117), (-23.363649832, 6.86398683))
            Line((-23.363649832, 6.86398683), (-20.862233366, 9.363924126))
            ThreePointArc((-20.862233366, 9.363924126), (-20.324878788, 9.586364049), (-19.787590021, 9.363765211))
        make_face(mode=Mode.SUBTRACT)
        with BuildLine():
            Line((-2.989101394, 27.22648713), (-0.664655277, 29.549558726))
            ThreePointArc((-0.664655277, 29.549558726), (1.058380877, 30.23655296), (2.742895641, 29.459877564))
            ThreePointArc((2.742895641, 29.459877564), (10.354016898, 19.511168226), (16.282595001, 8.47676992))
            ThreePointArc((16.282595001, 8.47676992), (16.291564751, 7.888035719), (15.877338122, 7.469580564))
            Line((15.877338122, 7.469580564), (6.607938261, 3.630069426))
            ThreePointArc((6.607938261, 3.630069426), (6.179406749, 3.609440138), (5.835565156, 3.866028881))
            ThreePointArc((5.835565156, 3.866028881), (3.002699742, 6.323274014), (-0.691951535, 6.965716264))
            ThreePointArc((-0.691951535, 6.965716264), (-1.136357264, 7.090083742), (-1.37920161, 7.482499777))
            Line((-1.37920161, 7.482499777), (-1.766781632, 9.585214428))
            ThreePointArc((-1.766781632, 9.585214428), (-1.745076748, 9.94870681), (-1.55677385, 10.260379446))
            Line((-1.55677385, 10.260379446), (0.037486183, 11.854639479))
            ThreePointArc((0.037486183, 11.854639479), (1.287354512, 13.725199623), (1.726249904, 15.931675758))
            Line((1.726249904, 15.931675758), (1.726249904, 21.12121334))
            ThreePointArc((1.726249904, 21.12121334), (1.668398349, 21.412052749), (1.503651058, 21.658614494))
            Line((1.503651058, 21.658614494), (-2.989260356, 26.151525907))
            ThreePointArc((-2.989260356, 26.151525907), (-3.211859194, 26.689039448), (-2.989101394, 27.22648713))
        make_face(mode=Mode.SUBTRACT)
    extrude(amount=-EXTRUDE1_DEPTH)


solid = part.part
